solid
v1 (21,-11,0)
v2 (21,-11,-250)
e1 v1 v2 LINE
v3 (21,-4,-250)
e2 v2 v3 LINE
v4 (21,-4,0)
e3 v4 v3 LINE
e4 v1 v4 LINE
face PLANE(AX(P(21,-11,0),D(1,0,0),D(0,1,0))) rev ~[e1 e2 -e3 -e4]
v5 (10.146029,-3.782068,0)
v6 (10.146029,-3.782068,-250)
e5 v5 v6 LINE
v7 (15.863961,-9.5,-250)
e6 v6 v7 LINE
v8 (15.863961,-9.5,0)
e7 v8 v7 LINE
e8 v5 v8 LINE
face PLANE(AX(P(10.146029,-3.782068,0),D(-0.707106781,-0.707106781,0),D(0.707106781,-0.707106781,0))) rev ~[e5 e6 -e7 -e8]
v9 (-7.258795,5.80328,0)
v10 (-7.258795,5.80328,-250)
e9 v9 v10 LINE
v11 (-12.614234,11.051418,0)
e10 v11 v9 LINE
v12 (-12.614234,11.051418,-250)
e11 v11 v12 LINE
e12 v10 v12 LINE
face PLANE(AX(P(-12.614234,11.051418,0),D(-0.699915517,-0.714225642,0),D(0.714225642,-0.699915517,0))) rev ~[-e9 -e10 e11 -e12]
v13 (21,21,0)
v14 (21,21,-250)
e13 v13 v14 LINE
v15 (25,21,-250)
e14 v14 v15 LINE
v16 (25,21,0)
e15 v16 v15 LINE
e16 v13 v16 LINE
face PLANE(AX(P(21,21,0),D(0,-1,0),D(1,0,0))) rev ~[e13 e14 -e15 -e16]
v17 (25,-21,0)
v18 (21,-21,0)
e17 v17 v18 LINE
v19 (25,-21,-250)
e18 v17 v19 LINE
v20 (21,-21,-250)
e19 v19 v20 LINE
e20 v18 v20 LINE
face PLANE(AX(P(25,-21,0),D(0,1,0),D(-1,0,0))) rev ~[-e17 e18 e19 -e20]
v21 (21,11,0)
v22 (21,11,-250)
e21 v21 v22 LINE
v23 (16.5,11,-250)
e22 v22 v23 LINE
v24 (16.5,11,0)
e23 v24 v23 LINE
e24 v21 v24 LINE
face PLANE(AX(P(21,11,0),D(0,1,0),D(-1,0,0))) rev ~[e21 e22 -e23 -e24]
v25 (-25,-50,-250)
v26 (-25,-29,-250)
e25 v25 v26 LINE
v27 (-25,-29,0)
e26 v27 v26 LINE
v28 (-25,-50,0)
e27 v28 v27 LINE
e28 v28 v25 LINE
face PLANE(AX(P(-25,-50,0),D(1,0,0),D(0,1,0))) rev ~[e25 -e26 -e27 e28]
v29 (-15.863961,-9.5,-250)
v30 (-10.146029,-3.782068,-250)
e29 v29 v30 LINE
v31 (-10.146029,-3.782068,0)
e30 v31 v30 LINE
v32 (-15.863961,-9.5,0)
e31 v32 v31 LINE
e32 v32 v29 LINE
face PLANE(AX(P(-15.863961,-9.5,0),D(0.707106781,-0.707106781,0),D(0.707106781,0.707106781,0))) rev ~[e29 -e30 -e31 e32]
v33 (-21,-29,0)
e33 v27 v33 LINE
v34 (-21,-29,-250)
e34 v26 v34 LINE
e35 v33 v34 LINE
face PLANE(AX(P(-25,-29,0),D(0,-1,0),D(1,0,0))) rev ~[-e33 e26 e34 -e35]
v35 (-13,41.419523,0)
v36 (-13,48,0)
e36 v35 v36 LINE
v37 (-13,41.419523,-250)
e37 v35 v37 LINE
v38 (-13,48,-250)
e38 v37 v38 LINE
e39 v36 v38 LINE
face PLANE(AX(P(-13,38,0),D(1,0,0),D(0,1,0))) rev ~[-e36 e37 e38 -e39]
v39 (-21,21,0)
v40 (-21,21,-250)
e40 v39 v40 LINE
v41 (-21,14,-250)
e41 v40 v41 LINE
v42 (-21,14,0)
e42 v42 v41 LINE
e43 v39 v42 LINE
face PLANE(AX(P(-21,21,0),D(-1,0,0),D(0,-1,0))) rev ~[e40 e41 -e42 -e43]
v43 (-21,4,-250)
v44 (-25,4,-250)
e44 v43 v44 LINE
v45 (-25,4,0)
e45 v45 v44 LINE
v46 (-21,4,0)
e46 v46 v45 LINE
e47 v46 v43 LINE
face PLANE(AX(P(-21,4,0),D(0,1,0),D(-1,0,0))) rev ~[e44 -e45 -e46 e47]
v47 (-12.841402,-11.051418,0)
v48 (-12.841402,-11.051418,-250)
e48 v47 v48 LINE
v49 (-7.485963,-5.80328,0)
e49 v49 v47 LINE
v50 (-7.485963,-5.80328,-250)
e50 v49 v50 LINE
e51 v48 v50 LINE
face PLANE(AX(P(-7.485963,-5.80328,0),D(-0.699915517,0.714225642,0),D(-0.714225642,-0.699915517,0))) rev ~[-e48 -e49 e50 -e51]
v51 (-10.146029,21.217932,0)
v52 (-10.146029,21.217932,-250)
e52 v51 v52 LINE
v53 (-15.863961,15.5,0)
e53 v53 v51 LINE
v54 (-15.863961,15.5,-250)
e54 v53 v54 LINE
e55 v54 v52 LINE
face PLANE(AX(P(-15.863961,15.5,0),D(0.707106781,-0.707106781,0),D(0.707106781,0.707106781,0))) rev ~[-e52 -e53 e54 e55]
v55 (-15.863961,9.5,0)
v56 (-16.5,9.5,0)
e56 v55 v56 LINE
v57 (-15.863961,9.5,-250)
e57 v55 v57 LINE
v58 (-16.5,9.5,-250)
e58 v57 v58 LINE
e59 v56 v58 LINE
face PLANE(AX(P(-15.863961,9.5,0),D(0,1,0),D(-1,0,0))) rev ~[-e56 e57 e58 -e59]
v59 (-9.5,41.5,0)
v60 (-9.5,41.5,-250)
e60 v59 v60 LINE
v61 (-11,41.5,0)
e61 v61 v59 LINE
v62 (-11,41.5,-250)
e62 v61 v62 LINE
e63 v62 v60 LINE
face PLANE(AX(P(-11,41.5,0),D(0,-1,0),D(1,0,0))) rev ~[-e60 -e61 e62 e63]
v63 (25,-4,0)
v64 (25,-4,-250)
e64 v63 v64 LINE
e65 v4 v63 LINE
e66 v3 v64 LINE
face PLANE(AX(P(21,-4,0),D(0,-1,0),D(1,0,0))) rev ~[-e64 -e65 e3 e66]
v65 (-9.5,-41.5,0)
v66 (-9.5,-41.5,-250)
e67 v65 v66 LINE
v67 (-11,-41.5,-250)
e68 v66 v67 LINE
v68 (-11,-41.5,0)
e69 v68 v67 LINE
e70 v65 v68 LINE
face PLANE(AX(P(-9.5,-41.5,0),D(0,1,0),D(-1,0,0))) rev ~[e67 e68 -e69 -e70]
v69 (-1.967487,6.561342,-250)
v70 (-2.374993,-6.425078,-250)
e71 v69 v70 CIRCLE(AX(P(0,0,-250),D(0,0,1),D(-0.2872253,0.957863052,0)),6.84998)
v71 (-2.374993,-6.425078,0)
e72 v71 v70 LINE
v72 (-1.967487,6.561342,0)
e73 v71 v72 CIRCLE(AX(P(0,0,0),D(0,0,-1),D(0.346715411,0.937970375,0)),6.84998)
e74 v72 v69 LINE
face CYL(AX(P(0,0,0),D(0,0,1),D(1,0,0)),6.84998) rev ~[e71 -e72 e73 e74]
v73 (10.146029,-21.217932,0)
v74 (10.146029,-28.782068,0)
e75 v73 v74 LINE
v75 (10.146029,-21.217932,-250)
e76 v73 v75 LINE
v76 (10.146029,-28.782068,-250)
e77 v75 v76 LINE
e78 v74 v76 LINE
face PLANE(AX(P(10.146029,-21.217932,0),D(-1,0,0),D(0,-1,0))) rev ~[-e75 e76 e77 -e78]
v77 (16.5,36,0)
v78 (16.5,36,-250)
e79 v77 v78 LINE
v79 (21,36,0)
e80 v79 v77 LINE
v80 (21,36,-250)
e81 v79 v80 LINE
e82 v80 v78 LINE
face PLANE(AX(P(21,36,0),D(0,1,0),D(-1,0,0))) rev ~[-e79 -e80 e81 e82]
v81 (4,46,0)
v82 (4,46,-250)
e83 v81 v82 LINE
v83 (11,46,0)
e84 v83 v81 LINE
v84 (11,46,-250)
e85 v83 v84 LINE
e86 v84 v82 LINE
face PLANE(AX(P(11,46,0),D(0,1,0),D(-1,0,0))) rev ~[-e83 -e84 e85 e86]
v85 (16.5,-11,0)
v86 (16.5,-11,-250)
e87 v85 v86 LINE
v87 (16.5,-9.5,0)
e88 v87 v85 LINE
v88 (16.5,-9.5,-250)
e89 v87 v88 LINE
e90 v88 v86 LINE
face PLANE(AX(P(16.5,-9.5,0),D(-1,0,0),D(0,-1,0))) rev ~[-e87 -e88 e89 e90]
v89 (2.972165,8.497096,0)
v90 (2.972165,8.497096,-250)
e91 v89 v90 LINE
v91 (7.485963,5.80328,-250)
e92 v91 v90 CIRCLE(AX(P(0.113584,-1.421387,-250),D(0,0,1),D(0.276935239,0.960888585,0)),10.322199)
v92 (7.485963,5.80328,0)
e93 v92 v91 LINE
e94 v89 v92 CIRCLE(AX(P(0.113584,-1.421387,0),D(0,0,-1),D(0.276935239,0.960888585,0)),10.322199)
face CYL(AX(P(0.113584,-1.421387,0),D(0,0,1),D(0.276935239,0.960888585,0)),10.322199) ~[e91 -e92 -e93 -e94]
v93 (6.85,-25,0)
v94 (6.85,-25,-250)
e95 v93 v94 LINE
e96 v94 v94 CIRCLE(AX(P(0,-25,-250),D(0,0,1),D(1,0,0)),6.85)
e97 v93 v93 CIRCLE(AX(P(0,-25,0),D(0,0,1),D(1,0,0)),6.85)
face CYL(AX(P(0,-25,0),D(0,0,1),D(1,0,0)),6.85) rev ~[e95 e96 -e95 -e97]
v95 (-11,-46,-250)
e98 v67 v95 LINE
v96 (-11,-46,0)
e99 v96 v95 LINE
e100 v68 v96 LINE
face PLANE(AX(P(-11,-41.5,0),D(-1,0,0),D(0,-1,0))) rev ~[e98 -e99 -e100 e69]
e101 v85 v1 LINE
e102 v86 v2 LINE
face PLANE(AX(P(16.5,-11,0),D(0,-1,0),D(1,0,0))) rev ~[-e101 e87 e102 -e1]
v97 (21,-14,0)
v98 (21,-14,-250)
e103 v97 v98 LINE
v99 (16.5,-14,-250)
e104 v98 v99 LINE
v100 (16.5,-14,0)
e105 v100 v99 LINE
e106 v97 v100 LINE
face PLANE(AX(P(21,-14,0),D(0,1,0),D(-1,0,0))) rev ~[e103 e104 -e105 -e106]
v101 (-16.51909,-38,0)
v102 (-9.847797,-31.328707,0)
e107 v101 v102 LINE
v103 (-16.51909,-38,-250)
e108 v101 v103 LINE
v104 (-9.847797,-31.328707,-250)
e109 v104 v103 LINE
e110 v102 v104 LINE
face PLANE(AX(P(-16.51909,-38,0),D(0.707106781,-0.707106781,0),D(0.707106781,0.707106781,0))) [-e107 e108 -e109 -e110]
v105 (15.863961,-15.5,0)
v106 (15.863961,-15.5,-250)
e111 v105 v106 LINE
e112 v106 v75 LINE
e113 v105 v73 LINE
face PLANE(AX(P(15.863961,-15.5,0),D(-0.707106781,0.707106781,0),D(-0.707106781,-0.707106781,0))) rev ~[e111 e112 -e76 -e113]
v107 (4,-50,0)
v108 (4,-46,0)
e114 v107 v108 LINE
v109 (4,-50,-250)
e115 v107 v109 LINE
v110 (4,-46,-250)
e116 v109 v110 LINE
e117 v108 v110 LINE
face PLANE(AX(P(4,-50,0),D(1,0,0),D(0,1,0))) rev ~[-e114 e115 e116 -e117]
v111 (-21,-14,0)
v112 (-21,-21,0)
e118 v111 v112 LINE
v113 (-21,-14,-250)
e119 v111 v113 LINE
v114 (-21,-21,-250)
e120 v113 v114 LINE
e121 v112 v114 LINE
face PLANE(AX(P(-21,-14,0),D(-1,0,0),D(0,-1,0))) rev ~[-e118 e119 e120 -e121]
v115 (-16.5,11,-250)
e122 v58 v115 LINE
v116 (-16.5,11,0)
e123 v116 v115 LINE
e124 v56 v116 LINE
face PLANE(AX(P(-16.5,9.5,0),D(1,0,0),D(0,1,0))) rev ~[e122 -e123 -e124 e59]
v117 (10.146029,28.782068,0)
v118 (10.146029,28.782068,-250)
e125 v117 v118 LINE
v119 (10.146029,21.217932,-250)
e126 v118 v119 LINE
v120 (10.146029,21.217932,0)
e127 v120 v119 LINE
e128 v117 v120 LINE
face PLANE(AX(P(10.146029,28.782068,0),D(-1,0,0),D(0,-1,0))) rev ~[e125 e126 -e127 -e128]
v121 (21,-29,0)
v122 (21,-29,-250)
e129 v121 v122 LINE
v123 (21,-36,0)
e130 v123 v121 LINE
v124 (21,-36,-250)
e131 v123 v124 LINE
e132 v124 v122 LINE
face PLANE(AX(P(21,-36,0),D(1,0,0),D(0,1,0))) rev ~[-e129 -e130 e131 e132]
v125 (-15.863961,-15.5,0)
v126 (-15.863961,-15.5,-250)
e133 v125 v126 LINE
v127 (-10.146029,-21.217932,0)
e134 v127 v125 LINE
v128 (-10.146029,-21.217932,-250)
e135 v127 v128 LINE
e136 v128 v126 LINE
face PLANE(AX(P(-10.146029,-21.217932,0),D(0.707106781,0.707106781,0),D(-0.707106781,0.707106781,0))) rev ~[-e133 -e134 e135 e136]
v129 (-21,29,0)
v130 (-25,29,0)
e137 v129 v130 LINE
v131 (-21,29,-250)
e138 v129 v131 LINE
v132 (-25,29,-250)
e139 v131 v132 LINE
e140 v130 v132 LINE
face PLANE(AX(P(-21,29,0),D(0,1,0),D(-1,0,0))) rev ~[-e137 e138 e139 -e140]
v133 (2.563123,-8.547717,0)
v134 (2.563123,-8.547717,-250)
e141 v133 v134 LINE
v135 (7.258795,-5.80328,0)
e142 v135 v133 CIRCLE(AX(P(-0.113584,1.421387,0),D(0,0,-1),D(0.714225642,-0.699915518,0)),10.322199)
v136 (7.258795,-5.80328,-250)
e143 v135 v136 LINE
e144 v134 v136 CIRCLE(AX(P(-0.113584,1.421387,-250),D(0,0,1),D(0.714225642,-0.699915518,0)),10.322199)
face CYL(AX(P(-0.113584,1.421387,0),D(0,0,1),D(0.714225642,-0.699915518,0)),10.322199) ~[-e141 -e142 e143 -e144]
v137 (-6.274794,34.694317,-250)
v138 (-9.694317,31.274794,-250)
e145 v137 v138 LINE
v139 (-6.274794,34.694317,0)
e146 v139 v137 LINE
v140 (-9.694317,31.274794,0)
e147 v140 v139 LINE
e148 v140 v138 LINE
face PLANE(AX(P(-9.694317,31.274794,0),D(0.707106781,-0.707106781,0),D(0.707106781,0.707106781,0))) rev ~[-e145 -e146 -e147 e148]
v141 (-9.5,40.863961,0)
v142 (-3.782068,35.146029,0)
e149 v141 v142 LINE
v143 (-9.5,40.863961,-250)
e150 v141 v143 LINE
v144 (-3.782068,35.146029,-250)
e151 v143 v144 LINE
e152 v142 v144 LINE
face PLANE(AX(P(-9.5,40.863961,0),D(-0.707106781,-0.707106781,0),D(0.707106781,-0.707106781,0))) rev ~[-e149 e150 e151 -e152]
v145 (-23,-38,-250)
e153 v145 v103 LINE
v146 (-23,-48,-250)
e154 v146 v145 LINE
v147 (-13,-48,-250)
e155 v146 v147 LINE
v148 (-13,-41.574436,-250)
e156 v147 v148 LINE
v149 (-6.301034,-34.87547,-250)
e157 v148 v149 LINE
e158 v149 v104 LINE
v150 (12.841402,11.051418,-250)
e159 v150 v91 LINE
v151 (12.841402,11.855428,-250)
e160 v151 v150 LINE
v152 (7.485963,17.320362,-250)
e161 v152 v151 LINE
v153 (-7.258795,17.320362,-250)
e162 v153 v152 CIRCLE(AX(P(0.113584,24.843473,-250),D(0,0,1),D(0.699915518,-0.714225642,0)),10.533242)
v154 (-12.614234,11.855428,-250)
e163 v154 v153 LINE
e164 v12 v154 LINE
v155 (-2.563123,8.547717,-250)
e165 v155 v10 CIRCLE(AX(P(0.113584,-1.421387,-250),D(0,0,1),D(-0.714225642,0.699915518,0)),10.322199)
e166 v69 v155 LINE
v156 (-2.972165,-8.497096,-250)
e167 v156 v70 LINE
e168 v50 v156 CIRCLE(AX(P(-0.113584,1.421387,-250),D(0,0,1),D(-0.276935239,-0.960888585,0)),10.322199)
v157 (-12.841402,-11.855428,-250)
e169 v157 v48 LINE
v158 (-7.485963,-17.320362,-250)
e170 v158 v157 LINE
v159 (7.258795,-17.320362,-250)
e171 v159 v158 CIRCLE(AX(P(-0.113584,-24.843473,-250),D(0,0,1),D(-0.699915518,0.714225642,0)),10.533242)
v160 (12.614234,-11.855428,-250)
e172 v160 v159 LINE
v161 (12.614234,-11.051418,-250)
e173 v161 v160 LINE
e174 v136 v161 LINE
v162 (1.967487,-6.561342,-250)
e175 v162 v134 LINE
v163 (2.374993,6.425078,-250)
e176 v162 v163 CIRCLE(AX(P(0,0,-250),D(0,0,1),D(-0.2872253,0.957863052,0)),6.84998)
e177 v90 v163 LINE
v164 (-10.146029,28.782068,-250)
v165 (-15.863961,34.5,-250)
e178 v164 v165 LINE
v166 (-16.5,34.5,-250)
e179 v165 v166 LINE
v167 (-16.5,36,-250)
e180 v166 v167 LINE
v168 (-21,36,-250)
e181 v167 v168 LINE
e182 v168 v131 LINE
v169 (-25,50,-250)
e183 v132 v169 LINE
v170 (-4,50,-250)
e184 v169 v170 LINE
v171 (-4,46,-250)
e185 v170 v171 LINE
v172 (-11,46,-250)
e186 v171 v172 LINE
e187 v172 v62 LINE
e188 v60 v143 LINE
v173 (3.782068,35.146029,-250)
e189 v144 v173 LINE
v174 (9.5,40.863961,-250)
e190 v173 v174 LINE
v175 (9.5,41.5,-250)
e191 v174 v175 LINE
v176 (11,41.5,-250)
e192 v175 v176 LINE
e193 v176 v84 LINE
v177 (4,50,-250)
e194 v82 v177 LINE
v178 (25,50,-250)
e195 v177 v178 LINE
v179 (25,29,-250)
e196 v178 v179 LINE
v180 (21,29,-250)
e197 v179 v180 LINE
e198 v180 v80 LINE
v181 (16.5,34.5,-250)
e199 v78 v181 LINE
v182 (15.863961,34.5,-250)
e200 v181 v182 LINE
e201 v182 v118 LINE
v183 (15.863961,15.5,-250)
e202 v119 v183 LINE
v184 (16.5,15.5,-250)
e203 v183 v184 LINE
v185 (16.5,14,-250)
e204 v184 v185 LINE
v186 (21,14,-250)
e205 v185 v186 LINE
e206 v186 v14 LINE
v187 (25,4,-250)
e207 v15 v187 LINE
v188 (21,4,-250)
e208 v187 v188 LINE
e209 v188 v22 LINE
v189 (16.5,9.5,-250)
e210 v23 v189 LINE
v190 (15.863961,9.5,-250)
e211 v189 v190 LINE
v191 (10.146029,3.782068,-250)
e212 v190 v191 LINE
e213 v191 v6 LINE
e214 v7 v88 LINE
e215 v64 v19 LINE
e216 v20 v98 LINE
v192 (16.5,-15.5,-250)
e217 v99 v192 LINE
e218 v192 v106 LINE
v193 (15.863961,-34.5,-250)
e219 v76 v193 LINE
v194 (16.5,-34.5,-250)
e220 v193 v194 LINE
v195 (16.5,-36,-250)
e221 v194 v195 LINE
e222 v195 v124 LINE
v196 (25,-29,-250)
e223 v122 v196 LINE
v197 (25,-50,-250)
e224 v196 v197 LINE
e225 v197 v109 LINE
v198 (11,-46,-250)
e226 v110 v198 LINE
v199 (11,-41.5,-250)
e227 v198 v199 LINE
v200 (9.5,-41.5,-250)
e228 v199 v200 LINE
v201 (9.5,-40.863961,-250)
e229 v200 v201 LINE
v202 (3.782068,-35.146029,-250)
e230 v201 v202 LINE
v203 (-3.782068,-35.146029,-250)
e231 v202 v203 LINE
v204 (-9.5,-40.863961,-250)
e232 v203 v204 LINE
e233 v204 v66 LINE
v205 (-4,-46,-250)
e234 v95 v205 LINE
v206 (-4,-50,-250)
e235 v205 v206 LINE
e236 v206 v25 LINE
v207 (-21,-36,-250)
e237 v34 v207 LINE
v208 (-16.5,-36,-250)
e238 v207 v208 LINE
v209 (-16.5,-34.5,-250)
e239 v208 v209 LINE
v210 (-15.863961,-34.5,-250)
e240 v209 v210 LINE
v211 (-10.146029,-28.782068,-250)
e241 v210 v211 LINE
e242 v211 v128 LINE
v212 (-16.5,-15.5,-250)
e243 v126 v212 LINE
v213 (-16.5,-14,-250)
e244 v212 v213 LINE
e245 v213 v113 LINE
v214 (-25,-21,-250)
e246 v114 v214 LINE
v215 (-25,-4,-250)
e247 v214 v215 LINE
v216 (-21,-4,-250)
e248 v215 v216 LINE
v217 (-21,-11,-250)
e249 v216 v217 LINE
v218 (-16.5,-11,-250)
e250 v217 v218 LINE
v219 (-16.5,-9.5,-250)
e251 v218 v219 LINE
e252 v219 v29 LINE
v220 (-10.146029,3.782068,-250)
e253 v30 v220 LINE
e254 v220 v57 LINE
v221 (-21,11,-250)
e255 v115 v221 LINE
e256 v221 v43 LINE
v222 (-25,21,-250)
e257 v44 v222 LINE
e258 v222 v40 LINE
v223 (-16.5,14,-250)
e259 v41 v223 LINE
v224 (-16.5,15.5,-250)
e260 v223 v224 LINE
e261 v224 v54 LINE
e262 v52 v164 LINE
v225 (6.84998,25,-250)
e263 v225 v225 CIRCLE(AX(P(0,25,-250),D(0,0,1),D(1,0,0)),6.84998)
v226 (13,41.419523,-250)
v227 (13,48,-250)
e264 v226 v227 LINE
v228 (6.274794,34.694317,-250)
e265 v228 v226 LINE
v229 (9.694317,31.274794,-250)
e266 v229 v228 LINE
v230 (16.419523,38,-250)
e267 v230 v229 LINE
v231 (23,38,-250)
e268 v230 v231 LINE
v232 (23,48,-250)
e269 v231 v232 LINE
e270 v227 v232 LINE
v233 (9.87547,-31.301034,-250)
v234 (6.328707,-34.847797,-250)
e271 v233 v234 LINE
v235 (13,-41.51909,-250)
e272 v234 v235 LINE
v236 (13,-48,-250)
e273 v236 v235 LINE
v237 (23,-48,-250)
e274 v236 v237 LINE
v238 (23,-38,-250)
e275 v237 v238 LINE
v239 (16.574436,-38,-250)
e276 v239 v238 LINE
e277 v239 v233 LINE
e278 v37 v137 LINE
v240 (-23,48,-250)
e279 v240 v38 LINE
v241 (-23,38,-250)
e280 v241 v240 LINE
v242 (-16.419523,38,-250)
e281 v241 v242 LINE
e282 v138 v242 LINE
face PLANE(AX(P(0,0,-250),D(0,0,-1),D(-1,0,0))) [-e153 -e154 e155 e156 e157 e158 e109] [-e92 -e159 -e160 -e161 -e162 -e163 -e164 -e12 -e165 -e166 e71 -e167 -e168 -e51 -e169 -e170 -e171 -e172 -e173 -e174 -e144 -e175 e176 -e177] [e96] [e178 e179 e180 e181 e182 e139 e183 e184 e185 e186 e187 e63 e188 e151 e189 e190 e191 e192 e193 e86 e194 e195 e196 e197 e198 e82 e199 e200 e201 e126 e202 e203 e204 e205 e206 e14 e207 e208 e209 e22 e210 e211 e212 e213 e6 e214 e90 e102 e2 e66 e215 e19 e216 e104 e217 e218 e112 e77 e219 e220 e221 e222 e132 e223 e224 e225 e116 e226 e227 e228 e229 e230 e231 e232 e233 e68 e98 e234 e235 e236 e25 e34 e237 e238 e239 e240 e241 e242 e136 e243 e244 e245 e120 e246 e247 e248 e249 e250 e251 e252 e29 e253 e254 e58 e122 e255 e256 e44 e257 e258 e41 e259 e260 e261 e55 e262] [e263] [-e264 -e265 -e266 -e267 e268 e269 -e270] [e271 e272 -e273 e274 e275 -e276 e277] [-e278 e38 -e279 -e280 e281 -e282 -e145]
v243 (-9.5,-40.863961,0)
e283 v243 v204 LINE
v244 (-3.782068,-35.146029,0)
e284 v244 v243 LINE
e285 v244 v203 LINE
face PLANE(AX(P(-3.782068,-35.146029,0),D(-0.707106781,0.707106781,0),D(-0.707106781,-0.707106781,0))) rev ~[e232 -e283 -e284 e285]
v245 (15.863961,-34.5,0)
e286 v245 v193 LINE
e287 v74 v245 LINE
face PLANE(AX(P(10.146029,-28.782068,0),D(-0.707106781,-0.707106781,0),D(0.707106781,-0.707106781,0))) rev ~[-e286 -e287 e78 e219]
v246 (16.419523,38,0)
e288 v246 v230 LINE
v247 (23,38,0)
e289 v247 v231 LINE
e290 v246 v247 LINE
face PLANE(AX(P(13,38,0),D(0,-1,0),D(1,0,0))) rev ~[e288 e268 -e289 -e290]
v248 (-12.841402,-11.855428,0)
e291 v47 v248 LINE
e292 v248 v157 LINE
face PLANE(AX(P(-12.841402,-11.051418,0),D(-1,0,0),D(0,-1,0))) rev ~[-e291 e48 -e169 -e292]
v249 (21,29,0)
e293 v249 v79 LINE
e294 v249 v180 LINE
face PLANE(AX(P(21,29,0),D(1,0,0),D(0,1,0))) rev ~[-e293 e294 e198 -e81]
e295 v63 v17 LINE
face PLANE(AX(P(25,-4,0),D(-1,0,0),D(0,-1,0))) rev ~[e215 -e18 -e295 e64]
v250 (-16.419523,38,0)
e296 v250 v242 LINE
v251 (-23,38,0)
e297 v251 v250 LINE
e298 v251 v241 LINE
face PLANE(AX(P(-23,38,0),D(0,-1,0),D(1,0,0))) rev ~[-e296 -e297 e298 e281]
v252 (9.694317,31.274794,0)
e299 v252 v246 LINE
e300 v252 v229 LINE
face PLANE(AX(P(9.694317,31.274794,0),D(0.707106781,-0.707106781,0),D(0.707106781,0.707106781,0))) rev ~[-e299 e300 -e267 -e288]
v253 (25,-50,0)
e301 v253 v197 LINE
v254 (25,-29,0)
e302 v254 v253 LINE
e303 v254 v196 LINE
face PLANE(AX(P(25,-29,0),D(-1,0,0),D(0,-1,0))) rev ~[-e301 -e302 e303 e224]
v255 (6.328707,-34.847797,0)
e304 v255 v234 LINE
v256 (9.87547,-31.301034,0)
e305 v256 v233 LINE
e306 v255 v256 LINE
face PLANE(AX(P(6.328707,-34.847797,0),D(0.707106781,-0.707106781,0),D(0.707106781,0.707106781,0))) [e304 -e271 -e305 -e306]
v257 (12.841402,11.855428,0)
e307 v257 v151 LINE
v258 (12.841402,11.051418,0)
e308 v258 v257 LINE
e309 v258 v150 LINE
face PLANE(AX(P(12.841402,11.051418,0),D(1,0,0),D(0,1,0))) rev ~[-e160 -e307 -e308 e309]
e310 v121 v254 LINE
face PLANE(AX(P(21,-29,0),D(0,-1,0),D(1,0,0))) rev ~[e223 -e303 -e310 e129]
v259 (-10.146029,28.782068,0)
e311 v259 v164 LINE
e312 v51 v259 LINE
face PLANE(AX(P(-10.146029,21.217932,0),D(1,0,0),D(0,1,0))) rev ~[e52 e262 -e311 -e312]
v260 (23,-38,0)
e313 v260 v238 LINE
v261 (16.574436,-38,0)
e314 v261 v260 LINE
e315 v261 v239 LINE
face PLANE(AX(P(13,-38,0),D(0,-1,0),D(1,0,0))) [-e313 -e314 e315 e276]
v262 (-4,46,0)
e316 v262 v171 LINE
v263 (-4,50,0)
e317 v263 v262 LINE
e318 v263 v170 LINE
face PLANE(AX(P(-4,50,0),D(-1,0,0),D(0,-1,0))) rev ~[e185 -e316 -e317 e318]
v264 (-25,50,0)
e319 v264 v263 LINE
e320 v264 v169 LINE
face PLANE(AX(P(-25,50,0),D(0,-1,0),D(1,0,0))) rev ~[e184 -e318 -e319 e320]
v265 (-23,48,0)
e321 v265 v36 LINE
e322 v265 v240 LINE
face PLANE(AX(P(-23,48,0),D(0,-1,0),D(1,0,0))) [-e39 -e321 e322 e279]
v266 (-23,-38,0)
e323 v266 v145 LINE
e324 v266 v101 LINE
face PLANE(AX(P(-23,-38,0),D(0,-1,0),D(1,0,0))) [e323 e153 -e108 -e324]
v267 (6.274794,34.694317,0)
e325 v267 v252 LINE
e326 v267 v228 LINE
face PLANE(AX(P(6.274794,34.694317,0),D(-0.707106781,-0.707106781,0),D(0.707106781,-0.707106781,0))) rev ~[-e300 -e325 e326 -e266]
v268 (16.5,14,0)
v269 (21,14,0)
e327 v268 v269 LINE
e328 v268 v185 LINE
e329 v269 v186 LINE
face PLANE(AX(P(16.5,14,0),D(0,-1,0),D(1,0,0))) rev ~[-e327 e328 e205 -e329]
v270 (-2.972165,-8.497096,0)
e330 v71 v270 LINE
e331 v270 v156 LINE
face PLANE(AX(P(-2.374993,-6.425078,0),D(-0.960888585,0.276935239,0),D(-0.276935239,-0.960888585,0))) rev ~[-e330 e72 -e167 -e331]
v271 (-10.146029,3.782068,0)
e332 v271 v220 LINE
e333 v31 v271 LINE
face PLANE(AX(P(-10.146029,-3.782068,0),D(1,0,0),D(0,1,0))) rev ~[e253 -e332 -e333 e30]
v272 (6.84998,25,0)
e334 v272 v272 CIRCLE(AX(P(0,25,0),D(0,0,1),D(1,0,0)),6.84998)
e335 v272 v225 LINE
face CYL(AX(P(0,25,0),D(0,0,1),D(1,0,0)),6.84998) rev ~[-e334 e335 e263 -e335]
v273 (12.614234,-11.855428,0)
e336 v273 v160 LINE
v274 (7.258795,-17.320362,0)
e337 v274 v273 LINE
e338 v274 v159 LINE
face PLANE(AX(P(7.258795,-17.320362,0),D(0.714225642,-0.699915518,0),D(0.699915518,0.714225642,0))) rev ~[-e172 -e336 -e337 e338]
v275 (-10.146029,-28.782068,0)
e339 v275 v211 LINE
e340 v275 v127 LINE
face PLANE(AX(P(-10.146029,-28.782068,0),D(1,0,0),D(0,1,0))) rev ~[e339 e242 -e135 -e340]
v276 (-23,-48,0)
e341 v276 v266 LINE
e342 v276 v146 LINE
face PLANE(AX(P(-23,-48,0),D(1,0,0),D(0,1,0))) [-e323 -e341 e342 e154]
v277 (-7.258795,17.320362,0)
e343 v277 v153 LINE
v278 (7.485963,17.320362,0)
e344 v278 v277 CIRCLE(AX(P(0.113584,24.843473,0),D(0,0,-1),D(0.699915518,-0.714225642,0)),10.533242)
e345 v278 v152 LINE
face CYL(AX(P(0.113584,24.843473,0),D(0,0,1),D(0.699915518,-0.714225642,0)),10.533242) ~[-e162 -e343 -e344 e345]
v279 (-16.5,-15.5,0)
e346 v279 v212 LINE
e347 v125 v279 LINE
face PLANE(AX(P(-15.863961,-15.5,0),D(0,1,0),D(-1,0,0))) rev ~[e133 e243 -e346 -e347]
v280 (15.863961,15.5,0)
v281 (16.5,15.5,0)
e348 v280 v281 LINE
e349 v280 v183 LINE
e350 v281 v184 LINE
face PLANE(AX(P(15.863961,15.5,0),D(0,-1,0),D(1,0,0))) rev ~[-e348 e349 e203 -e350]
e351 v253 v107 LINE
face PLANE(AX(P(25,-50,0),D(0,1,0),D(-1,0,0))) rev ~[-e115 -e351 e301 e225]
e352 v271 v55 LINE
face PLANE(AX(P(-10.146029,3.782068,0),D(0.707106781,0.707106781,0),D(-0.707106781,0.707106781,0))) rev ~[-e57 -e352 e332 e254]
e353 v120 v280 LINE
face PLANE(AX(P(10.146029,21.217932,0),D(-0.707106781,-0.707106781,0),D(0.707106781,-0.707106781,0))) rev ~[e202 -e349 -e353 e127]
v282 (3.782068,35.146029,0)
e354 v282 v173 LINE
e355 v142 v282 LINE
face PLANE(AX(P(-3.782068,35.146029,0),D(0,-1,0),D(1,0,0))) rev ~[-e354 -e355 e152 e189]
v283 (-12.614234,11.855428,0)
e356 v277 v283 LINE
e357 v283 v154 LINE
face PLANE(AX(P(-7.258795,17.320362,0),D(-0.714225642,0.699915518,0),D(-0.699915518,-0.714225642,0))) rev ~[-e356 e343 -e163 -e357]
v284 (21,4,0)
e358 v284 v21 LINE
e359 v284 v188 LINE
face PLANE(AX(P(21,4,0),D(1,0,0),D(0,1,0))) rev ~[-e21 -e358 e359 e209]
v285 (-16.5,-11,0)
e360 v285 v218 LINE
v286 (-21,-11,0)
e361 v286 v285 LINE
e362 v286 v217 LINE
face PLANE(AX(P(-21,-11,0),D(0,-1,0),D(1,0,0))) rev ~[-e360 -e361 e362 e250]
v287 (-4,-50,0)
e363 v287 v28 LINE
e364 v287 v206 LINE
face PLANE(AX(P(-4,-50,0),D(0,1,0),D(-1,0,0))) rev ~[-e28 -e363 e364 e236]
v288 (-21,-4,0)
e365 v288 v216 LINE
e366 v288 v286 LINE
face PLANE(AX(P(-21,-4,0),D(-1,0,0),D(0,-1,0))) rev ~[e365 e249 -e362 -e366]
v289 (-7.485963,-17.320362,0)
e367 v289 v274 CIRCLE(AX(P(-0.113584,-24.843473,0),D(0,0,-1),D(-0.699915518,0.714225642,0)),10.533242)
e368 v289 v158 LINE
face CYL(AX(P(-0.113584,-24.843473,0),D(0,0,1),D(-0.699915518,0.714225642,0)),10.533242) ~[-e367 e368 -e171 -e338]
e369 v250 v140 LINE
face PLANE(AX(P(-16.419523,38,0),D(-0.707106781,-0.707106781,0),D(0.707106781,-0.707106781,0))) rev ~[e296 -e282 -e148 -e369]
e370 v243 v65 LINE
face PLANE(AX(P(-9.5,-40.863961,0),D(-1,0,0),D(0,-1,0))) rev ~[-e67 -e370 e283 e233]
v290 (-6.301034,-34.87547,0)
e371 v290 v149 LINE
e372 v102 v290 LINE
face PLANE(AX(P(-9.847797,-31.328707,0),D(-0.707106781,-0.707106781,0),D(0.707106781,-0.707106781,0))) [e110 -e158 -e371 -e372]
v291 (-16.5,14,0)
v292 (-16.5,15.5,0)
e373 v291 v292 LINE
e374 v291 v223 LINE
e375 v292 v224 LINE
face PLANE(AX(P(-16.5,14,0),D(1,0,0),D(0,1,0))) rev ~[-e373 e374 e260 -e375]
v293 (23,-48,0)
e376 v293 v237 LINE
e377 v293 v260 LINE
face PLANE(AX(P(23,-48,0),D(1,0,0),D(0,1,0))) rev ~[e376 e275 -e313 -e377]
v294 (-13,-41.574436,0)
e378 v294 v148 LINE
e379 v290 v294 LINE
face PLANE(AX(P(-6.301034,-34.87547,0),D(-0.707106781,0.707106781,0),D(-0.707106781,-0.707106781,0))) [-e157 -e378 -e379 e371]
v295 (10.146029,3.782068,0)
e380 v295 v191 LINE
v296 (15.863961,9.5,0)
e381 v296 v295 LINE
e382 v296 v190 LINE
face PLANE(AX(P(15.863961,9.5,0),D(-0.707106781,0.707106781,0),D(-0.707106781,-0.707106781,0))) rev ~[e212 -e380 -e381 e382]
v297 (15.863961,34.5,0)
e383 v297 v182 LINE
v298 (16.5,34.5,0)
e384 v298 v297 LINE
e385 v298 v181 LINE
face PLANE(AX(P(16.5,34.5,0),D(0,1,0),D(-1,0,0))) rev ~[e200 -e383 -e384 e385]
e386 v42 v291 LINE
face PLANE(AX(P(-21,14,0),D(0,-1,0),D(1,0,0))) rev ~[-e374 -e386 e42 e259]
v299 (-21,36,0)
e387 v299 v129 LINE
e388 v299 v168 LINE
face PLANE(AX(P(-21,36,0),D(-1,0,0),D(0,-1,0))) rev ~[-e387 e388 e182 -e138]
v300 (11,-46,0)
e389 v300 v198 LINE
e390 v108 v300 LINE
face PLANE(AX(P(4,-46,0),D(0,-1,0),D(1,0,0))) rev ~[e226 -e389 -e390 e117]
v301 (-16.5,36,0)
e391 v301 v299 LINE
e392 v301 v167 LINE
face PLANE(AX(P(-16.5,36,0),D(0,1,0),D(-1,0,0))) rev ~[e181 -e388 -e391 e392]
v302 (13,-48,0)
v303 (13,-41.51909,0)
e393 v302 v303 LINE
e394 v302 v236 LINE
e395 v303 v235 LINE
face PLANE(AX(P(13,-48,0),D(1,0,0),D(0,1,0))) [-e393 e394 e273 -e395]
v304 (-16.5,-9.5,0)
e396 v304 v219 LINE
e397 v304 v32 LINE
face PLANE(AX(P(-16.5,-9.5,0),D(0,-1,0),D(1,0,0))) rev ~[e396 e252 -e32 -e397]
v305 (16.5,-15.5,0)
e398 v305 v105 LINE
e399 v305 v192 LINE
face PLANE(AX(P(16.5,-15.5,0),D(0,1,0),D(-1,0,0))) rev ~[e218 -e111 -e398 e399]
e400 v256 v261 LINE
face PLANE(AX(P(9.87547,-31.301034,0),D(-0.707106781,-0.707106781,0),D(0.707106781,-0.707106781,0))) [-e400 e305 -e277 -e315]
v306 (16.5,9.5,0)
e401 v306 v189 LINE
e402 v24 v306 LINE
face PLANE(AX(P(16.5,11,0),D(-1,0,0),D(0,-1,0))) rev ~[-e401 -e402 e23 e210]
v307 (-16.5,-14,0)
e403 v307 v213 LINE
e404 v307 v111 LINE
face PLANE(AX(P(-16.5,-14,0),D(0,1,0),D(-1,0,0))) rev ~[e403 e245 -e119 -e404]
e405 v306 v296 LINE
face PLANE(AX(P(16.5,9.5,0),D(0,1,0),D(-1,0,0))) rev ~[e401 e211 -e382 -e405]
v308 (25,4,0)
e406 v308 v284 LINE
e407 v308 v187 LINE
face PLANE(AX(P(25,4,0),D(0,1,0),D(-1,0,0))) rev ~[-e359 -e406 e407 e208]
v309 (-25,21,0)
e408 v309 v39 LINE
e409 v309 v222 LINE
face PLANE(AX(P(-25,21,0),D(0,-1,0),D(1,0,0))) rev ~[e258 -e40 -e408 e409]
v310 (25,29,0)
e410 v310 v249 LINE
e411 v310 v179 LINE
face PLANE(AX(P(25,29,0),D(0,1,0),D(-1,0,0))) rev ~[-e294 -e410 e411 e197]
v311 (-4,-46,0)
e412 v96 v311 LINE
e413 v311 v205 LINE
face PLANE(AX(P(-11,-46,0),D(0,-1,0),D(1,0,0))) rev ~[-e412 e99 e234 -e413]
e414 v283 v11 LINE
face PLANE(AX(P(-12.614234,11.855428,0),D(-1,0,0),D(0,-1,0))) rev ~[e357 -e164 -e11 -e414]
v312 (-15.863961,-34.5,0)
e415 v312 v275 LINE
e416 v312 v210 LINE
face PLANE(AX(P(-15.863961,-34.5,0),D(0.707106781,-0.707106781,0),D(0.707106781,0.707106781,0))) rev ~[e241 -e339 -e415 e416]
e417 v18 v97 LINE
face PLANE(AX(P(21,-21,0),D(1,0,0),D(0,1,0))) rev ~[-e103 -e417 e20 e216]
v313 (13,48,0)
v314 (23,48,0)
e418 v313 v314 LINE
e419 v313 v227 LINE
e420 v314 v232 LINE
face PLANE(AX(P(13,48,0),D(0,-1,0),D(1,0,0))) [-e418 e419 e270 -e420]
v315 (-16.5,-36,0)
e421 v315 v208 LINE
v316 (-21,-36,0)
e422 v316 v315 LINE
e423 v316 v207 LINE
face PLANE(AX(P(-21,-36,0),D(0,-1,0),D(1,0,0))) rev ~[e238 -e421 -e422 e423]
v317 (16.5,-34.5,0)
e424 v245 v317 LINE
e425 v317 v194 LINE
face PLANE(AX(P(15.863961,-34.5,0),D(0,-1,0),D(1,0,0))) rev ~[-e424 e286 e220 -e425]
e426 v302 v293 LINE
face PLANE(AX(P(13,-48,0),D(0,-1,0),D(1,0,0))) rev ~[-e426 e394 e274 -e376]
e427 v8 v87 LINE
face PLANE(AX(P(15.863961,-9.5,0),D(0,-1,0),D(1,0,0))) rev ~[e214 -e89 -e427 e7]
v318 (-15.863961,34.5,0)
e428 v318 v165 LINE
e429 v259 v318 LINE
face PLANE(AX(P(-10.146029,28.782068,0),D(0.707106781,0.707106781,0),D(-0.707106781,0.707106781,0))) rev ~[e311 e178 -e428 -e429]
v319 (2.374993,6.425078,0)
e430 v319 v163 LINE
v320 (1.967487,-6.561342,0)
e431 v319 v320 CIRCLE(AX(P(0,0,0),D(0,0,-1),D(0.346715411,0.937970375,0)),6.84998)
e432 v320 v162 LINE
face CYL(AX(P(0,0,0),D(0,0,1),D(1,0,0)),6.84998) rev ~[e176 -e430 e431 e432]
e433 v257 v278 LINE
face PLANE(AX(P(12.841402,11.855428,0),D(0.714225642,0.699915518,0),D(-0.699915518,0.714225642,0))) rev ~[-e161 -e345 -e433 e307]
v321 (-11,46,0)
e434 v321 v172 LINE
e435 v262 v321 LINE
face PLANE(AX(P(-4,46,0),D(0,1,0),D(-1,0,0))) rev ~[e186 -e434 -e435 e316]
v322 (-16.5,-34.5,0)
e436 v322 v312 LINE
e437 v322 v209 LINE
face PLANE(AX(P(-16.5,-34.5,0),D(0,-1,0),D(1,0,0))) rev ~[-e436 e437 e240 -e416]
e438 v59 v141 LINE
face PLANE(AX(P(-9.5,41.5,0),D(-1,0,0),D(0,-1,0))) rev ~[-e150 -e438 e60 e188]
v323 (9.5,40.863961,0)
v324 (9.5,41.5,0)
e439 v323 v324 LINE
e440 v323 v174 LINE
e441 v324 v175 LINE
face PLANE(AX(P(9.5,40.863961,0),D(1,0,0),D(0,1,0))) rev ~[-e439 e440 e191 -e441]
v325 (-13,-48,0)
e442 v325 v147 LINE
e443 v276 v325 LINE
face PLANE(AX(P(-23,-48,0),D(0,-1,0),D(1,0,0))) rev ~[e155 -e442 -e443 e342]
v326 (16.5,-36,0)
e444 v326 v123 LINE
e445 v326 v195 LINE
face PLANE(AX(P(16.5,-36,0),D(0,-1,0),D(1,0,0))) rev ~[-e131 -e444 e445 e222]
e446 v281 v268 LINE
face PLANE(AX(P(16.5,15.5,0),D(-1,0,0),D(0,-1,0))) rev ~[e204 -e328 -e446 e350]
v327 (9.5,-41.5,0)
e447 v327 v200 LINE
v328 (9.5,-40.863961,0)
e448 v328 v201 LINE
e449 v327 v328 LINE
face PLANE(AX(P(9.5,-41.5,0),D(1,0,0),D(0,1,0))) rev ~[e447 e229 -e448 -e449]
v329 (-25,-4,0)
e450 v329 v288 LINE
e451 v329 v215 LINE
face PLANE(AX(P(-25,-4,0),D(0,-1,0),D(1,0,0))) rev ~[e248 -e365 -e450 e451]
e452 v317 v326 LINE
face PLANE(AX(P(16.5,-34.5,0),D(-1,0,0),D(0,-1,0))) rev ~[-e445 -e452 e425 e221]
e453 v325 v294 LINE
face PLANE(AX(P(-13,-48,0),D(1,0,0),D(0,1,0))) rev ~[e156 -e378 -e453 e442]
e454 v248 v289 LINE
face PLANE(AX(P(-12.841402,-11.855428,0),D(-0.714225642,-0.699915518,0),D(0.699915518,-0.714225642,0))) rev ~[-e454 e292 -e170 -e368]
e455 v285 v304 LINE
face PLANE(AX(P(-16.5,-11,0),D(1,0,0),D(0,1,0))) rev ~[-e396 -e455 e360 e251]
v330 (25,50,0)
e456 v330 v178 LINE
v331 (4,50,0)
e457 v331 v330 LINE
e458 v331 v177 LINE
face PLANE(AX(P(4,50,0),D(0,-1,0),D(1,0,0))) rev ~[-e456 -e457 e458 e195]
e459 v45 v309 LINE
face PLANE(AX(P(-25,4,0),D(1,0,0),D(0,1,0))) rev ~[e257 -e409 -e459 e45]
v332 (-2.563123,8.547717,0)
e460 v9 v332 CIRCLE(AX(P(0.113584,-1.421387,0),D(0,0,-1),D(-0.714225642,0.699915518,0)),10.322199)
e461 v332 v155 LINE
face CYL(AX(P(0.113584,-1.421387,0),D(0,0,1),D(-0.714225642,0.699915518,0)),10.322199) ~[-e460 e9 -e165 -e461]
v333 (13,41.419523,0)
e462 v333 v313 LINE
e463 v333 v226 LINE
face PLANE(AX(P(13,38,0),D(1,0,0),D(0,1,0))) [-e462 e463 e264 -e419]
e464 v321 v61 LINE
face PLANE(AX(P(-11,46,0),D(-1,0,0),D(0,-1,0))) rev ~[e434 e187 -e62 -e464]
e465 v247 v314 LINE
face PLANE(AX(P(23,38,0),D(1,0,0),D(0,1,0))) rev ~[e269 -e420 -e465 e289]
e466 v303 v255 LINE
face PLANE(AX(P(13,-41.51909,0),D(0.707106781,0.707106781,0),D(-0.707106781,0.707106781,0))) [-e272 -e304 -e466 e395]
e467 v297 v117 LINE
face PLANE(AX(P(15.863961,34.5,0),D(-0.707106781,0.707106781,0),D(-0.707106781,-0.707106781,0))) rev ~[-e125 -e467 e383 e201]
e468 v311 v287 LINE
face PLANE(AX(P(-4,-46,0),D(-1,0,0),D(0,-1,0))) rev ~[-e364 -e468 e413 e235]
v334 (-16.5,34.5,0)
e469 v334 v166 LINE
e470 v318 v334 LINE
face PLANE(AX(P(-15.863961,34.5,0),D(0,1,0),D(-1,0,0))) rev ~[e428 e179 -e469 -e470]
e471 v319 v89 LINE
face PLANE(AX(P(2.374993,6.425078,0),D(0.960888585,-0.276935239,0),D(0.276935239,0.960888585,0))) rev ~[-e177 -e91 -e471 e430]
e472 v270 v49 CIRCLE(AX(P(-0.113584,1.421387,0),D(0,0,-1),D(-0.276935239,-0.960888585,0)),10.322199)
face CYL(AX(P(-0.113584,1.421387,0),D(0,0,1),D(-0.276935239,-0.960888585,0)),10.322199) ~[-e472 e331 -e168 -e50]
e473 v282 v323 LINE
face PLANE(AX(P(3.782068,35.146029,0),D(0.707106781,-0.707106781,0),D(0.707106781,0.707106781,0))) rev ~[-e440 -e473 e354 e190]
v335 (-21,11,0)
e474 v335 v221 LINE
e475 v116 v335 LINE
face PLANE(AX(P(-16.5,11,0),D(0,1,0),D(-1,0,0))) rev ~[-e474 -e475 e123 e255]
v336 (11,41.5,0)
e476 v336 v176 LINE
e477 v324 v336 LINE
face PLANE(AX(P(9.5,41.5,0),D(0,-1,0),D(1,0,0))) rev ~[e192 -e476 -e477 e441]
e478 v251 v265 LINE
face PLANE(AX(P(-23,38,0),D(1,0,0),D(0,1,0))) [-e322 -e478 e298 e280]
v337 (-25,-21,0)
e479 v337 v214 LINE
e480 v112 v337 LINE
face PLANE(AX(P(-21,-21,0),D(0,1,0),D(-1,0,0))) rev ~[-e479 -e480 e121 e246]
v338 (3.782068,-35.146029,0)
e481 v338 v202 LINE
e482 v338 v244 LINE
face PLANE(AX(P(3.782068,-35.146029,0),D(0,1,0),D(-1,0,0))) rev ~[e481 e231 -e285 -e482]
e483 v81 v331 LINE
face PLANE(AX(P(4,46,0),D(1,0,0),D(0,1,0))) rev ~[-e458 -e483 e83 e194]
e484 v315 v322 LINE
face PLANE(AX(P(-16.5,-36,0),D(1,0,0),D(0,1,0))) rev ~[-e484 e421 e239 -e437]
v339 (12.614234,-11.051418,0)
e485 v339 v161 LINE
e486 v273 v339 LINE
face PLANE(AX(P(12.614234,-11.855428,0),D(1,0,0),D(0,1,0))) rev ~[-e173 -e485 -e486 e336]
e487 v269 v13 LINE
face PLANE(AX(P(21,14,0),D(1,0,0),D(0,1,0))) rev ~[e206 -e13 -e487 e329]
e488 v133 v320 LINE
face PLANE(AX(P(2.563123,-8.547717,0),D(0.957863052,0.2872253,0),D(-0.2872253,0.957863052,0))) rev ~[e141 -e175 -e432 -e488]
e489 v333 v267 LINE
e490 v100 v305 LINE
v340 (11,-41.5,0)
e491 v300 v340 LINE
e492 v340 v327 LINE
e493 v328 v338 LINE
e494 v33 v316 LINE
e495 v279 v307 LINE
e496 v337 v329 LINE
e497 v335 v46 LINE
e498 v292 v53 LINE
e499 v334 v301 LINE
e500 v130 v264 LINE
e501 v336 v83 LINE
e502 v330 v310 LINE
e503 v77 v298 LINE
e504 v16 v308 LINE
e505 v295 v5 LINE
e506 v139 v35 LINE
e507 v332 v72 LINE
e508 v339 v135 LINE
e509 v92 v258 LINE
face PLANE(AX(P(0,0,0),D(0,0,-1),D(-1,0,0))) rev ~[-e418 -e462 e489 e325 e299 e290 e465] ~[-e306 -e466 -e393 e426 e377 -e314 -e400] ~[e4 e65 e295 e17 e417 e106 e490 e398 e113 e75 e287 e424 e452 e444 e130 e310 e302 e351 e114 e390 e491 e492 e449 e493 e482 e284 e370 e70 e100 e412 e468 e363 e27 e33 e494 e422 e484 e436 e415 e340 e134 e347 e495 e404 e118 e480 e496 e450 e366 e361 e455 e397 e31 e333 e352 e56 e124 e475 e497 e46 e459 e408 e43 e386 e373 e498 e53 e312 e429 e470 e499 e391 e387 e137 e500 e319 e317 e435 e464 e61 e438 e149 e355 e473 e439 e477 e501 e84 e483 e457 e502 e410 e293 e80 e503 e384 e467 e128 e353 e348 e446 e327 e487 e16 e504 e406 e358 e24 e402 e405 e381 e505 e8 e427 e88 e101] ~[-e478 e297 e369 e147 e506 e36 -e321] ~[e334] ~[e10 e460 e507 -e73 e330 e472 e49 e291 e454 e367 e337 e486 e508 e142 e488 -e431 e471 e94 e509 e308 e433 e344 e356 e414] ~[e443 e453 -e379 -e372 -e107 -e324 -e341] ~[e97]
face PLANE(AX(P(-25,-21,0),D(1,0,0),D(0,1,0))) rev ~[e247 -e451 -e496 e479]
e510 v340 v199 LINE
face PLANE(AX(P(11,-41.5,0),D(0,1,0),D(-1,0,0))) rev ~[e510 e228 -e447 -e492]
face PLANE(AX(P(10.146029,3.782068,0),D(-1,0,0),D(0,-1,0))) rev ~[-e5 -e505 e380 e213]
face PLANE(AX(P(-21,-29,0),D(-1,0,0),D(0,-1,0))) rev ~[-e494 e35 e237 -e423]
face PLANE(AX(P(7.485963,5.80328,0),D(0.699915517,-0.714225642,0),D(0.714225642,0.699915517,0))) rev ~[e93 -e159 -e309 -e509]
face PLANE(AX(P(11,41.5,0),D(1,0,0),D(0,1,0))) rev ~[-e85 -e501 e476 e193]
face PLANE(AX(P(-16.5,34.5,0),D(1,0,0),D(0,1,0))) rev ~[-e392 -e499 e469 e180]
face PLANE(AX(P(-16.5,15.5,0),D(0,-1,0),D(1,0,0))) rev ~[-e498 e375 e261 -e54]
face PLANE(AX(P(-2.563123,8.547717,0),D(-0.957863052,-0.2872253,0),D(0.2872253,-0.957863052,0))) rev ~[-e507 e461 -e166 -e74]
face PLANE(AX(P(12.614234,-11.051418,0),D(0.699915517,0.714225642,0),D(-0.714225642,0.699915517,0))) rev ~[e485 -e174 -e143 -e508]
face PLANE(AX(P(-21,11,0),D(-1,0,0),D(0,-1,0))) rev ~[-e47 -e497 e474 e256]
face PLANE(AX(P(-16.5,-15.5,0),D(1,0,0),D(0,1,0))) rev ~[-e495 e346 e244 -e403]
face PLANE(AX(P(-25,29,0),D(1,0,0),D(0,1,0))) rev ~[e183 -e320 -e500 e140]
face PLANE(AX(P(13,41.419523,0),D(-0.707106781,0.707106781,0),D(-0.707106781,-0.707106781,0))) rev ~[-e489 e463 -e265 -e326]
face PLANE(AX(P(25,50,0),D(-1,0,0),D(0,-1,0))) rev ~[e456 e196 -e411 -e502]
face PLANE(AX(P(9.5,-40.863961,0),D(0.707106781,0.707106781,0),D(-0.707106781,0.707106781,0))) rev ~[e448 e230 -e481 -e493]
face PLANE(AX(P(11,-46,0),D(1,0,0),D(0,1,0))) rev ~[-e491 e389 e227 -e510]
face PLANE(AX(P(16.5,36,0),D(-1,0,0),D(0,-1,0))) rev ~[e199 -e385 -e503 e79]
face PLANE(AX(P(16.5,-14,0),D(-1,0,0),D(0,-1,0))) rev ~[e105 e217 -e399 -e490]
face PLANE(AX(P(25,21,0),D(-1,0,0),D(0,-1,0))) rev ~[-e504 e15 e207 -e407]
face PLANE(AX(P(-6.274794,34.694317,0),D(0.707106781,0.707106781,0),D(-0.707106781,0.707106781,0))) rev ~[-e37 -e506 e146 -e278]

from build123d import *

# Parameters (mm, degrees)
SKETCH_A01_2_R     = 6.849979581
SKETCH_A01_2_R_2   = 6.85
SKETCH_A01_2_W     = 10
SKETCH_A01_2_H     = 10
EXTRUDE1_DEPTH     = 250
CUT_EXTRUDE1_DEPTH = 251
CIRPATTERN1_COUNT  = 2
CUT_EXTRUDE2_DEPTH = 251
CUT_EXTRUDE3_DEPTH = 251
CIRPATTERN2_COUNT  = 2
CIRPATTERN2_ANGLE  = 270
CIRPATTERN3_COUNT  = 2
CIRPATTERN3_ANGLE  = 90


with BuildPart() as part:
    # Sketch A01-2 → Extrude1 (new body)
    with BuildSketch(Plane.XY):
        Polygon((-16.5, -36), (-16.5, -34.5), (-15.863961, -34.5), (-10.14602885, -28.78206785), (-10.14602885, -21.21793215), (-15.863961, -15.5), (-16.5, -15.5), (-16.5, -14), (-21, -14), (-21, -21), (-25, -21), (-25, -4), (-21, -4), (-21, -11), (-16.5, -11), (-16.5, -9.5), (-15.863961, -9.5), (-10.14602885, -3.78206785), (-10.14602885, 3.78206785), (-15.863961, 9.5), (-16.5, 9.5), (-16.5, 11), (-21, 11), (-21, 4), (-25, 4), (-25, 21), (-21, 21), (-21, 14), (-16.5, 14), (-16.5, 15.5), (-15.863961, 15.5), (-10.14602885, 21.21793215), (-10.14602885, 28.78206785), (-15.863961, 34.5), (-16.5, 34.5), (-16.5, 36), (-21, 36), (-21, 29), (-25, 29), (-25, 50), (-4, 50), (-4, 46), (-11, 46), (-11, 41.5), (-9.5, 41.5), (-9.5, 40.863961), (-3.78206785, 35.14602885), (3.78206785, 35.14602885), (9.5, 40.863961), (9.5, 41.5), (11, 41.5), (11, 46), (4, 46), (4, 50), (25, 50), (25, 29), (21, 29), (21, 36), (16.5, 36), (16.5, 34.5), (15.863961, 34.5), (10.14602885, 28.78206785), (10.14602885, 21.21793215), (15.863961, 15.5), (16.5, 15.5), (16.5, 14), (21, 14), (21, 21), (25, 21), (25, 4), (21, 4), (21, 11), (16.5, 11), (16.5, 9.5), (15.863961, 9.5), (10.14602885, 3.78206785), (10.14602885, -3.78206785), (15.863961, -9.5), (16.5, -9.5), (16.5, -11), (21, -11), (21, -4), (25, -4), (25, -21), (21, -21), (21, -14), (16.5, -14), (16.5, -15.5), (15.863961, -15.5), (10.14602885, -21.21793215), (10.14602885, -28.78206785), (15.863961, -34.5), (16.5, -34.5), (16.5, -36), (21, -36), (21, -29), (25, -29), (25, -50), (4, -50), (4, -46), (11, -46), (11, -41.5), (9.5, -41.5), (9.5, -40.863961), (3.78206785, -35.14602885), (-3.78206785, -35.14602885), (-9.5, -40.863961), (-9.5, -41.5), (-11, -41.5), (-11, -46), (-4, -46), (-4, -50), (-25, -50), (-25, -29), (-21, -29), (-21, -36), align=None)
        Circle(SKETCH_A01_2_R, mode=Mode.SUBTRACT)
        with Locations((0, -25)):
            Circle(SKETCH_A01_2_R_2, mode=Mode.SUBTRACT)
        with Locations((0, 25)):
            Circle(SKETCH_A01_2_R, mode=Mode.SUBTRACT)
        with Locations((-18, -43)):
            Rectangle(SKETCH_A01_2_W, SKETCH_A01_2_H, mode=Mode.SUBTRACT)
        with Locations((18, -43)):
            Rectangle(SKETCH_A01_2_W, SKETCH_A01_2_H, mode=Mode.SUBTRACT)
        with Locations((-18, 43)):
            Rectangle(SKETCH_A01_2_W, SKETCH_A01_2_H, mode=Mode.SUBTRACT)
        with Locations((18, 43)):
            Rectangle(SKETCH_A01_2_W, SKETCH_A01_2_H, mode=Mode.SUBTRACT)
    extrude(amount=-EXTRUDE1_DEPTH)

    # Sketch1 → Cut-Extrude1 (cut, through all)
    with BuildSketch(Plane.XY):
        with BuildLine():
            Line((-7.258795353, 17.320361918), (-12.614234198, 11.855428431))
            Line((-12.614234198, 11.855428431), (-12.614234198, 11.051418253))
            Line((-12.614234198, 11.051418253), (-7.258795353, 5.803280231))
            ThreePointArc((-7.258795353, 5.803280231), (-5.094968204, 7.490334338), (-2.563122733, 8.547716957))
            Line((-2.563122733, 8.547716957), (-1.967487438, 6.56134235))
            ThreePointArc((-1.967487438, 6.56134235), (0.214842487, 6.846609596), (2.374993487, 6.425077913))
            Line((2.374993487, 6.425077913), (2.972164568, 8.497096186))
            ThreePointArc((2.972164568, 8.497096186), (5.403413421, 7.442330952), (7.485963159, 5.803280231))
            Line((7.485963159, 5.803280231), (12.841402004, 11.051418253))
            Line((12.841402004, 11.051418253), (12.841402004, 11.855428431))
            Line((12.841402004, 11.855428431), (7.485963159, 17.320361918))
            ThreePointArc((7.485963159, 17.320361918), (0.113583903, 14.310231562), (-7.258795353, 17.320361918))
        make_face()
    cut_extrude1 = extrude(amount=-CUT_EXTRUDE1_DEPTH, mode=Mode.SUBTRACT)

    # CirPattern1: Cut-Extrude1 ×2 about axis
    cirpattern1_axis = Axis((0, 0, 0), (0, 0, 1))
    for i in range(1, CIRPATTERN1_COUNT):
        add(cut_extrude1.rotate(cirpattern1_axis, i * 360 / CIRPATTERN1_COUNT), mode=Mode.SUBTRACT)

    # Sketch2 → Cut-Extrude2 (cut, through all)
    with BuildSketch(Plane.XY):
        Polygon((-16.419523035, 38), (-9.694317474, 31.274794439), (-6.274794439, 34.694317474), (-13, 41.419523035), align=None)
    cut_extrude2 = extrude(amount=-CUT_EXTRUDE2_DEPTH, mode=Mode.SUBTRACT)

    # Sketch3 → Cut-Extrude3 (cut, through all)
    with BuildSketch(Plane.XY):
        Polygon((-16.519090004, -38), (-9.847797296, -31.328707292), (-6.301034305, -34.875470283), (-13, -41.574435978), align=None)
    cut_extrude3 = extrude(amount=-CUT_EXTRUDE3_DEPTH, mode=Mode.SUBTRACT)

    # CirPattern2: Cut-Extrude2 ×2 about axis
    cirpattern2_axis = Axis((0, 25, 0), (0, 0, 1))
    for i in range(1, CIRPATTERN2_COUNT):
        add(cut_extrude2.rotate(cirpattern2_axis, i * CIRPATTERN2_ANGLE / (CIRPATTERN2_COUNT - 1)), mode=Mode.SUBTRACT)

    # CirPattern3: Cut-Extrude3 ×2 about axis
    cirpattern3_axis = Axis((0, -25, 0), (0, 0, 1))
    for i in range(1, CIRPATTERN3_COUNT):
        add(cut_extrude3.rotate(cirpattern3_axis, i * CIRPATTERN3_ANGLE / (CIRPATTERN3_COUNT - 1)), mode=Mode.SUBTRACT)


solid = part.part
